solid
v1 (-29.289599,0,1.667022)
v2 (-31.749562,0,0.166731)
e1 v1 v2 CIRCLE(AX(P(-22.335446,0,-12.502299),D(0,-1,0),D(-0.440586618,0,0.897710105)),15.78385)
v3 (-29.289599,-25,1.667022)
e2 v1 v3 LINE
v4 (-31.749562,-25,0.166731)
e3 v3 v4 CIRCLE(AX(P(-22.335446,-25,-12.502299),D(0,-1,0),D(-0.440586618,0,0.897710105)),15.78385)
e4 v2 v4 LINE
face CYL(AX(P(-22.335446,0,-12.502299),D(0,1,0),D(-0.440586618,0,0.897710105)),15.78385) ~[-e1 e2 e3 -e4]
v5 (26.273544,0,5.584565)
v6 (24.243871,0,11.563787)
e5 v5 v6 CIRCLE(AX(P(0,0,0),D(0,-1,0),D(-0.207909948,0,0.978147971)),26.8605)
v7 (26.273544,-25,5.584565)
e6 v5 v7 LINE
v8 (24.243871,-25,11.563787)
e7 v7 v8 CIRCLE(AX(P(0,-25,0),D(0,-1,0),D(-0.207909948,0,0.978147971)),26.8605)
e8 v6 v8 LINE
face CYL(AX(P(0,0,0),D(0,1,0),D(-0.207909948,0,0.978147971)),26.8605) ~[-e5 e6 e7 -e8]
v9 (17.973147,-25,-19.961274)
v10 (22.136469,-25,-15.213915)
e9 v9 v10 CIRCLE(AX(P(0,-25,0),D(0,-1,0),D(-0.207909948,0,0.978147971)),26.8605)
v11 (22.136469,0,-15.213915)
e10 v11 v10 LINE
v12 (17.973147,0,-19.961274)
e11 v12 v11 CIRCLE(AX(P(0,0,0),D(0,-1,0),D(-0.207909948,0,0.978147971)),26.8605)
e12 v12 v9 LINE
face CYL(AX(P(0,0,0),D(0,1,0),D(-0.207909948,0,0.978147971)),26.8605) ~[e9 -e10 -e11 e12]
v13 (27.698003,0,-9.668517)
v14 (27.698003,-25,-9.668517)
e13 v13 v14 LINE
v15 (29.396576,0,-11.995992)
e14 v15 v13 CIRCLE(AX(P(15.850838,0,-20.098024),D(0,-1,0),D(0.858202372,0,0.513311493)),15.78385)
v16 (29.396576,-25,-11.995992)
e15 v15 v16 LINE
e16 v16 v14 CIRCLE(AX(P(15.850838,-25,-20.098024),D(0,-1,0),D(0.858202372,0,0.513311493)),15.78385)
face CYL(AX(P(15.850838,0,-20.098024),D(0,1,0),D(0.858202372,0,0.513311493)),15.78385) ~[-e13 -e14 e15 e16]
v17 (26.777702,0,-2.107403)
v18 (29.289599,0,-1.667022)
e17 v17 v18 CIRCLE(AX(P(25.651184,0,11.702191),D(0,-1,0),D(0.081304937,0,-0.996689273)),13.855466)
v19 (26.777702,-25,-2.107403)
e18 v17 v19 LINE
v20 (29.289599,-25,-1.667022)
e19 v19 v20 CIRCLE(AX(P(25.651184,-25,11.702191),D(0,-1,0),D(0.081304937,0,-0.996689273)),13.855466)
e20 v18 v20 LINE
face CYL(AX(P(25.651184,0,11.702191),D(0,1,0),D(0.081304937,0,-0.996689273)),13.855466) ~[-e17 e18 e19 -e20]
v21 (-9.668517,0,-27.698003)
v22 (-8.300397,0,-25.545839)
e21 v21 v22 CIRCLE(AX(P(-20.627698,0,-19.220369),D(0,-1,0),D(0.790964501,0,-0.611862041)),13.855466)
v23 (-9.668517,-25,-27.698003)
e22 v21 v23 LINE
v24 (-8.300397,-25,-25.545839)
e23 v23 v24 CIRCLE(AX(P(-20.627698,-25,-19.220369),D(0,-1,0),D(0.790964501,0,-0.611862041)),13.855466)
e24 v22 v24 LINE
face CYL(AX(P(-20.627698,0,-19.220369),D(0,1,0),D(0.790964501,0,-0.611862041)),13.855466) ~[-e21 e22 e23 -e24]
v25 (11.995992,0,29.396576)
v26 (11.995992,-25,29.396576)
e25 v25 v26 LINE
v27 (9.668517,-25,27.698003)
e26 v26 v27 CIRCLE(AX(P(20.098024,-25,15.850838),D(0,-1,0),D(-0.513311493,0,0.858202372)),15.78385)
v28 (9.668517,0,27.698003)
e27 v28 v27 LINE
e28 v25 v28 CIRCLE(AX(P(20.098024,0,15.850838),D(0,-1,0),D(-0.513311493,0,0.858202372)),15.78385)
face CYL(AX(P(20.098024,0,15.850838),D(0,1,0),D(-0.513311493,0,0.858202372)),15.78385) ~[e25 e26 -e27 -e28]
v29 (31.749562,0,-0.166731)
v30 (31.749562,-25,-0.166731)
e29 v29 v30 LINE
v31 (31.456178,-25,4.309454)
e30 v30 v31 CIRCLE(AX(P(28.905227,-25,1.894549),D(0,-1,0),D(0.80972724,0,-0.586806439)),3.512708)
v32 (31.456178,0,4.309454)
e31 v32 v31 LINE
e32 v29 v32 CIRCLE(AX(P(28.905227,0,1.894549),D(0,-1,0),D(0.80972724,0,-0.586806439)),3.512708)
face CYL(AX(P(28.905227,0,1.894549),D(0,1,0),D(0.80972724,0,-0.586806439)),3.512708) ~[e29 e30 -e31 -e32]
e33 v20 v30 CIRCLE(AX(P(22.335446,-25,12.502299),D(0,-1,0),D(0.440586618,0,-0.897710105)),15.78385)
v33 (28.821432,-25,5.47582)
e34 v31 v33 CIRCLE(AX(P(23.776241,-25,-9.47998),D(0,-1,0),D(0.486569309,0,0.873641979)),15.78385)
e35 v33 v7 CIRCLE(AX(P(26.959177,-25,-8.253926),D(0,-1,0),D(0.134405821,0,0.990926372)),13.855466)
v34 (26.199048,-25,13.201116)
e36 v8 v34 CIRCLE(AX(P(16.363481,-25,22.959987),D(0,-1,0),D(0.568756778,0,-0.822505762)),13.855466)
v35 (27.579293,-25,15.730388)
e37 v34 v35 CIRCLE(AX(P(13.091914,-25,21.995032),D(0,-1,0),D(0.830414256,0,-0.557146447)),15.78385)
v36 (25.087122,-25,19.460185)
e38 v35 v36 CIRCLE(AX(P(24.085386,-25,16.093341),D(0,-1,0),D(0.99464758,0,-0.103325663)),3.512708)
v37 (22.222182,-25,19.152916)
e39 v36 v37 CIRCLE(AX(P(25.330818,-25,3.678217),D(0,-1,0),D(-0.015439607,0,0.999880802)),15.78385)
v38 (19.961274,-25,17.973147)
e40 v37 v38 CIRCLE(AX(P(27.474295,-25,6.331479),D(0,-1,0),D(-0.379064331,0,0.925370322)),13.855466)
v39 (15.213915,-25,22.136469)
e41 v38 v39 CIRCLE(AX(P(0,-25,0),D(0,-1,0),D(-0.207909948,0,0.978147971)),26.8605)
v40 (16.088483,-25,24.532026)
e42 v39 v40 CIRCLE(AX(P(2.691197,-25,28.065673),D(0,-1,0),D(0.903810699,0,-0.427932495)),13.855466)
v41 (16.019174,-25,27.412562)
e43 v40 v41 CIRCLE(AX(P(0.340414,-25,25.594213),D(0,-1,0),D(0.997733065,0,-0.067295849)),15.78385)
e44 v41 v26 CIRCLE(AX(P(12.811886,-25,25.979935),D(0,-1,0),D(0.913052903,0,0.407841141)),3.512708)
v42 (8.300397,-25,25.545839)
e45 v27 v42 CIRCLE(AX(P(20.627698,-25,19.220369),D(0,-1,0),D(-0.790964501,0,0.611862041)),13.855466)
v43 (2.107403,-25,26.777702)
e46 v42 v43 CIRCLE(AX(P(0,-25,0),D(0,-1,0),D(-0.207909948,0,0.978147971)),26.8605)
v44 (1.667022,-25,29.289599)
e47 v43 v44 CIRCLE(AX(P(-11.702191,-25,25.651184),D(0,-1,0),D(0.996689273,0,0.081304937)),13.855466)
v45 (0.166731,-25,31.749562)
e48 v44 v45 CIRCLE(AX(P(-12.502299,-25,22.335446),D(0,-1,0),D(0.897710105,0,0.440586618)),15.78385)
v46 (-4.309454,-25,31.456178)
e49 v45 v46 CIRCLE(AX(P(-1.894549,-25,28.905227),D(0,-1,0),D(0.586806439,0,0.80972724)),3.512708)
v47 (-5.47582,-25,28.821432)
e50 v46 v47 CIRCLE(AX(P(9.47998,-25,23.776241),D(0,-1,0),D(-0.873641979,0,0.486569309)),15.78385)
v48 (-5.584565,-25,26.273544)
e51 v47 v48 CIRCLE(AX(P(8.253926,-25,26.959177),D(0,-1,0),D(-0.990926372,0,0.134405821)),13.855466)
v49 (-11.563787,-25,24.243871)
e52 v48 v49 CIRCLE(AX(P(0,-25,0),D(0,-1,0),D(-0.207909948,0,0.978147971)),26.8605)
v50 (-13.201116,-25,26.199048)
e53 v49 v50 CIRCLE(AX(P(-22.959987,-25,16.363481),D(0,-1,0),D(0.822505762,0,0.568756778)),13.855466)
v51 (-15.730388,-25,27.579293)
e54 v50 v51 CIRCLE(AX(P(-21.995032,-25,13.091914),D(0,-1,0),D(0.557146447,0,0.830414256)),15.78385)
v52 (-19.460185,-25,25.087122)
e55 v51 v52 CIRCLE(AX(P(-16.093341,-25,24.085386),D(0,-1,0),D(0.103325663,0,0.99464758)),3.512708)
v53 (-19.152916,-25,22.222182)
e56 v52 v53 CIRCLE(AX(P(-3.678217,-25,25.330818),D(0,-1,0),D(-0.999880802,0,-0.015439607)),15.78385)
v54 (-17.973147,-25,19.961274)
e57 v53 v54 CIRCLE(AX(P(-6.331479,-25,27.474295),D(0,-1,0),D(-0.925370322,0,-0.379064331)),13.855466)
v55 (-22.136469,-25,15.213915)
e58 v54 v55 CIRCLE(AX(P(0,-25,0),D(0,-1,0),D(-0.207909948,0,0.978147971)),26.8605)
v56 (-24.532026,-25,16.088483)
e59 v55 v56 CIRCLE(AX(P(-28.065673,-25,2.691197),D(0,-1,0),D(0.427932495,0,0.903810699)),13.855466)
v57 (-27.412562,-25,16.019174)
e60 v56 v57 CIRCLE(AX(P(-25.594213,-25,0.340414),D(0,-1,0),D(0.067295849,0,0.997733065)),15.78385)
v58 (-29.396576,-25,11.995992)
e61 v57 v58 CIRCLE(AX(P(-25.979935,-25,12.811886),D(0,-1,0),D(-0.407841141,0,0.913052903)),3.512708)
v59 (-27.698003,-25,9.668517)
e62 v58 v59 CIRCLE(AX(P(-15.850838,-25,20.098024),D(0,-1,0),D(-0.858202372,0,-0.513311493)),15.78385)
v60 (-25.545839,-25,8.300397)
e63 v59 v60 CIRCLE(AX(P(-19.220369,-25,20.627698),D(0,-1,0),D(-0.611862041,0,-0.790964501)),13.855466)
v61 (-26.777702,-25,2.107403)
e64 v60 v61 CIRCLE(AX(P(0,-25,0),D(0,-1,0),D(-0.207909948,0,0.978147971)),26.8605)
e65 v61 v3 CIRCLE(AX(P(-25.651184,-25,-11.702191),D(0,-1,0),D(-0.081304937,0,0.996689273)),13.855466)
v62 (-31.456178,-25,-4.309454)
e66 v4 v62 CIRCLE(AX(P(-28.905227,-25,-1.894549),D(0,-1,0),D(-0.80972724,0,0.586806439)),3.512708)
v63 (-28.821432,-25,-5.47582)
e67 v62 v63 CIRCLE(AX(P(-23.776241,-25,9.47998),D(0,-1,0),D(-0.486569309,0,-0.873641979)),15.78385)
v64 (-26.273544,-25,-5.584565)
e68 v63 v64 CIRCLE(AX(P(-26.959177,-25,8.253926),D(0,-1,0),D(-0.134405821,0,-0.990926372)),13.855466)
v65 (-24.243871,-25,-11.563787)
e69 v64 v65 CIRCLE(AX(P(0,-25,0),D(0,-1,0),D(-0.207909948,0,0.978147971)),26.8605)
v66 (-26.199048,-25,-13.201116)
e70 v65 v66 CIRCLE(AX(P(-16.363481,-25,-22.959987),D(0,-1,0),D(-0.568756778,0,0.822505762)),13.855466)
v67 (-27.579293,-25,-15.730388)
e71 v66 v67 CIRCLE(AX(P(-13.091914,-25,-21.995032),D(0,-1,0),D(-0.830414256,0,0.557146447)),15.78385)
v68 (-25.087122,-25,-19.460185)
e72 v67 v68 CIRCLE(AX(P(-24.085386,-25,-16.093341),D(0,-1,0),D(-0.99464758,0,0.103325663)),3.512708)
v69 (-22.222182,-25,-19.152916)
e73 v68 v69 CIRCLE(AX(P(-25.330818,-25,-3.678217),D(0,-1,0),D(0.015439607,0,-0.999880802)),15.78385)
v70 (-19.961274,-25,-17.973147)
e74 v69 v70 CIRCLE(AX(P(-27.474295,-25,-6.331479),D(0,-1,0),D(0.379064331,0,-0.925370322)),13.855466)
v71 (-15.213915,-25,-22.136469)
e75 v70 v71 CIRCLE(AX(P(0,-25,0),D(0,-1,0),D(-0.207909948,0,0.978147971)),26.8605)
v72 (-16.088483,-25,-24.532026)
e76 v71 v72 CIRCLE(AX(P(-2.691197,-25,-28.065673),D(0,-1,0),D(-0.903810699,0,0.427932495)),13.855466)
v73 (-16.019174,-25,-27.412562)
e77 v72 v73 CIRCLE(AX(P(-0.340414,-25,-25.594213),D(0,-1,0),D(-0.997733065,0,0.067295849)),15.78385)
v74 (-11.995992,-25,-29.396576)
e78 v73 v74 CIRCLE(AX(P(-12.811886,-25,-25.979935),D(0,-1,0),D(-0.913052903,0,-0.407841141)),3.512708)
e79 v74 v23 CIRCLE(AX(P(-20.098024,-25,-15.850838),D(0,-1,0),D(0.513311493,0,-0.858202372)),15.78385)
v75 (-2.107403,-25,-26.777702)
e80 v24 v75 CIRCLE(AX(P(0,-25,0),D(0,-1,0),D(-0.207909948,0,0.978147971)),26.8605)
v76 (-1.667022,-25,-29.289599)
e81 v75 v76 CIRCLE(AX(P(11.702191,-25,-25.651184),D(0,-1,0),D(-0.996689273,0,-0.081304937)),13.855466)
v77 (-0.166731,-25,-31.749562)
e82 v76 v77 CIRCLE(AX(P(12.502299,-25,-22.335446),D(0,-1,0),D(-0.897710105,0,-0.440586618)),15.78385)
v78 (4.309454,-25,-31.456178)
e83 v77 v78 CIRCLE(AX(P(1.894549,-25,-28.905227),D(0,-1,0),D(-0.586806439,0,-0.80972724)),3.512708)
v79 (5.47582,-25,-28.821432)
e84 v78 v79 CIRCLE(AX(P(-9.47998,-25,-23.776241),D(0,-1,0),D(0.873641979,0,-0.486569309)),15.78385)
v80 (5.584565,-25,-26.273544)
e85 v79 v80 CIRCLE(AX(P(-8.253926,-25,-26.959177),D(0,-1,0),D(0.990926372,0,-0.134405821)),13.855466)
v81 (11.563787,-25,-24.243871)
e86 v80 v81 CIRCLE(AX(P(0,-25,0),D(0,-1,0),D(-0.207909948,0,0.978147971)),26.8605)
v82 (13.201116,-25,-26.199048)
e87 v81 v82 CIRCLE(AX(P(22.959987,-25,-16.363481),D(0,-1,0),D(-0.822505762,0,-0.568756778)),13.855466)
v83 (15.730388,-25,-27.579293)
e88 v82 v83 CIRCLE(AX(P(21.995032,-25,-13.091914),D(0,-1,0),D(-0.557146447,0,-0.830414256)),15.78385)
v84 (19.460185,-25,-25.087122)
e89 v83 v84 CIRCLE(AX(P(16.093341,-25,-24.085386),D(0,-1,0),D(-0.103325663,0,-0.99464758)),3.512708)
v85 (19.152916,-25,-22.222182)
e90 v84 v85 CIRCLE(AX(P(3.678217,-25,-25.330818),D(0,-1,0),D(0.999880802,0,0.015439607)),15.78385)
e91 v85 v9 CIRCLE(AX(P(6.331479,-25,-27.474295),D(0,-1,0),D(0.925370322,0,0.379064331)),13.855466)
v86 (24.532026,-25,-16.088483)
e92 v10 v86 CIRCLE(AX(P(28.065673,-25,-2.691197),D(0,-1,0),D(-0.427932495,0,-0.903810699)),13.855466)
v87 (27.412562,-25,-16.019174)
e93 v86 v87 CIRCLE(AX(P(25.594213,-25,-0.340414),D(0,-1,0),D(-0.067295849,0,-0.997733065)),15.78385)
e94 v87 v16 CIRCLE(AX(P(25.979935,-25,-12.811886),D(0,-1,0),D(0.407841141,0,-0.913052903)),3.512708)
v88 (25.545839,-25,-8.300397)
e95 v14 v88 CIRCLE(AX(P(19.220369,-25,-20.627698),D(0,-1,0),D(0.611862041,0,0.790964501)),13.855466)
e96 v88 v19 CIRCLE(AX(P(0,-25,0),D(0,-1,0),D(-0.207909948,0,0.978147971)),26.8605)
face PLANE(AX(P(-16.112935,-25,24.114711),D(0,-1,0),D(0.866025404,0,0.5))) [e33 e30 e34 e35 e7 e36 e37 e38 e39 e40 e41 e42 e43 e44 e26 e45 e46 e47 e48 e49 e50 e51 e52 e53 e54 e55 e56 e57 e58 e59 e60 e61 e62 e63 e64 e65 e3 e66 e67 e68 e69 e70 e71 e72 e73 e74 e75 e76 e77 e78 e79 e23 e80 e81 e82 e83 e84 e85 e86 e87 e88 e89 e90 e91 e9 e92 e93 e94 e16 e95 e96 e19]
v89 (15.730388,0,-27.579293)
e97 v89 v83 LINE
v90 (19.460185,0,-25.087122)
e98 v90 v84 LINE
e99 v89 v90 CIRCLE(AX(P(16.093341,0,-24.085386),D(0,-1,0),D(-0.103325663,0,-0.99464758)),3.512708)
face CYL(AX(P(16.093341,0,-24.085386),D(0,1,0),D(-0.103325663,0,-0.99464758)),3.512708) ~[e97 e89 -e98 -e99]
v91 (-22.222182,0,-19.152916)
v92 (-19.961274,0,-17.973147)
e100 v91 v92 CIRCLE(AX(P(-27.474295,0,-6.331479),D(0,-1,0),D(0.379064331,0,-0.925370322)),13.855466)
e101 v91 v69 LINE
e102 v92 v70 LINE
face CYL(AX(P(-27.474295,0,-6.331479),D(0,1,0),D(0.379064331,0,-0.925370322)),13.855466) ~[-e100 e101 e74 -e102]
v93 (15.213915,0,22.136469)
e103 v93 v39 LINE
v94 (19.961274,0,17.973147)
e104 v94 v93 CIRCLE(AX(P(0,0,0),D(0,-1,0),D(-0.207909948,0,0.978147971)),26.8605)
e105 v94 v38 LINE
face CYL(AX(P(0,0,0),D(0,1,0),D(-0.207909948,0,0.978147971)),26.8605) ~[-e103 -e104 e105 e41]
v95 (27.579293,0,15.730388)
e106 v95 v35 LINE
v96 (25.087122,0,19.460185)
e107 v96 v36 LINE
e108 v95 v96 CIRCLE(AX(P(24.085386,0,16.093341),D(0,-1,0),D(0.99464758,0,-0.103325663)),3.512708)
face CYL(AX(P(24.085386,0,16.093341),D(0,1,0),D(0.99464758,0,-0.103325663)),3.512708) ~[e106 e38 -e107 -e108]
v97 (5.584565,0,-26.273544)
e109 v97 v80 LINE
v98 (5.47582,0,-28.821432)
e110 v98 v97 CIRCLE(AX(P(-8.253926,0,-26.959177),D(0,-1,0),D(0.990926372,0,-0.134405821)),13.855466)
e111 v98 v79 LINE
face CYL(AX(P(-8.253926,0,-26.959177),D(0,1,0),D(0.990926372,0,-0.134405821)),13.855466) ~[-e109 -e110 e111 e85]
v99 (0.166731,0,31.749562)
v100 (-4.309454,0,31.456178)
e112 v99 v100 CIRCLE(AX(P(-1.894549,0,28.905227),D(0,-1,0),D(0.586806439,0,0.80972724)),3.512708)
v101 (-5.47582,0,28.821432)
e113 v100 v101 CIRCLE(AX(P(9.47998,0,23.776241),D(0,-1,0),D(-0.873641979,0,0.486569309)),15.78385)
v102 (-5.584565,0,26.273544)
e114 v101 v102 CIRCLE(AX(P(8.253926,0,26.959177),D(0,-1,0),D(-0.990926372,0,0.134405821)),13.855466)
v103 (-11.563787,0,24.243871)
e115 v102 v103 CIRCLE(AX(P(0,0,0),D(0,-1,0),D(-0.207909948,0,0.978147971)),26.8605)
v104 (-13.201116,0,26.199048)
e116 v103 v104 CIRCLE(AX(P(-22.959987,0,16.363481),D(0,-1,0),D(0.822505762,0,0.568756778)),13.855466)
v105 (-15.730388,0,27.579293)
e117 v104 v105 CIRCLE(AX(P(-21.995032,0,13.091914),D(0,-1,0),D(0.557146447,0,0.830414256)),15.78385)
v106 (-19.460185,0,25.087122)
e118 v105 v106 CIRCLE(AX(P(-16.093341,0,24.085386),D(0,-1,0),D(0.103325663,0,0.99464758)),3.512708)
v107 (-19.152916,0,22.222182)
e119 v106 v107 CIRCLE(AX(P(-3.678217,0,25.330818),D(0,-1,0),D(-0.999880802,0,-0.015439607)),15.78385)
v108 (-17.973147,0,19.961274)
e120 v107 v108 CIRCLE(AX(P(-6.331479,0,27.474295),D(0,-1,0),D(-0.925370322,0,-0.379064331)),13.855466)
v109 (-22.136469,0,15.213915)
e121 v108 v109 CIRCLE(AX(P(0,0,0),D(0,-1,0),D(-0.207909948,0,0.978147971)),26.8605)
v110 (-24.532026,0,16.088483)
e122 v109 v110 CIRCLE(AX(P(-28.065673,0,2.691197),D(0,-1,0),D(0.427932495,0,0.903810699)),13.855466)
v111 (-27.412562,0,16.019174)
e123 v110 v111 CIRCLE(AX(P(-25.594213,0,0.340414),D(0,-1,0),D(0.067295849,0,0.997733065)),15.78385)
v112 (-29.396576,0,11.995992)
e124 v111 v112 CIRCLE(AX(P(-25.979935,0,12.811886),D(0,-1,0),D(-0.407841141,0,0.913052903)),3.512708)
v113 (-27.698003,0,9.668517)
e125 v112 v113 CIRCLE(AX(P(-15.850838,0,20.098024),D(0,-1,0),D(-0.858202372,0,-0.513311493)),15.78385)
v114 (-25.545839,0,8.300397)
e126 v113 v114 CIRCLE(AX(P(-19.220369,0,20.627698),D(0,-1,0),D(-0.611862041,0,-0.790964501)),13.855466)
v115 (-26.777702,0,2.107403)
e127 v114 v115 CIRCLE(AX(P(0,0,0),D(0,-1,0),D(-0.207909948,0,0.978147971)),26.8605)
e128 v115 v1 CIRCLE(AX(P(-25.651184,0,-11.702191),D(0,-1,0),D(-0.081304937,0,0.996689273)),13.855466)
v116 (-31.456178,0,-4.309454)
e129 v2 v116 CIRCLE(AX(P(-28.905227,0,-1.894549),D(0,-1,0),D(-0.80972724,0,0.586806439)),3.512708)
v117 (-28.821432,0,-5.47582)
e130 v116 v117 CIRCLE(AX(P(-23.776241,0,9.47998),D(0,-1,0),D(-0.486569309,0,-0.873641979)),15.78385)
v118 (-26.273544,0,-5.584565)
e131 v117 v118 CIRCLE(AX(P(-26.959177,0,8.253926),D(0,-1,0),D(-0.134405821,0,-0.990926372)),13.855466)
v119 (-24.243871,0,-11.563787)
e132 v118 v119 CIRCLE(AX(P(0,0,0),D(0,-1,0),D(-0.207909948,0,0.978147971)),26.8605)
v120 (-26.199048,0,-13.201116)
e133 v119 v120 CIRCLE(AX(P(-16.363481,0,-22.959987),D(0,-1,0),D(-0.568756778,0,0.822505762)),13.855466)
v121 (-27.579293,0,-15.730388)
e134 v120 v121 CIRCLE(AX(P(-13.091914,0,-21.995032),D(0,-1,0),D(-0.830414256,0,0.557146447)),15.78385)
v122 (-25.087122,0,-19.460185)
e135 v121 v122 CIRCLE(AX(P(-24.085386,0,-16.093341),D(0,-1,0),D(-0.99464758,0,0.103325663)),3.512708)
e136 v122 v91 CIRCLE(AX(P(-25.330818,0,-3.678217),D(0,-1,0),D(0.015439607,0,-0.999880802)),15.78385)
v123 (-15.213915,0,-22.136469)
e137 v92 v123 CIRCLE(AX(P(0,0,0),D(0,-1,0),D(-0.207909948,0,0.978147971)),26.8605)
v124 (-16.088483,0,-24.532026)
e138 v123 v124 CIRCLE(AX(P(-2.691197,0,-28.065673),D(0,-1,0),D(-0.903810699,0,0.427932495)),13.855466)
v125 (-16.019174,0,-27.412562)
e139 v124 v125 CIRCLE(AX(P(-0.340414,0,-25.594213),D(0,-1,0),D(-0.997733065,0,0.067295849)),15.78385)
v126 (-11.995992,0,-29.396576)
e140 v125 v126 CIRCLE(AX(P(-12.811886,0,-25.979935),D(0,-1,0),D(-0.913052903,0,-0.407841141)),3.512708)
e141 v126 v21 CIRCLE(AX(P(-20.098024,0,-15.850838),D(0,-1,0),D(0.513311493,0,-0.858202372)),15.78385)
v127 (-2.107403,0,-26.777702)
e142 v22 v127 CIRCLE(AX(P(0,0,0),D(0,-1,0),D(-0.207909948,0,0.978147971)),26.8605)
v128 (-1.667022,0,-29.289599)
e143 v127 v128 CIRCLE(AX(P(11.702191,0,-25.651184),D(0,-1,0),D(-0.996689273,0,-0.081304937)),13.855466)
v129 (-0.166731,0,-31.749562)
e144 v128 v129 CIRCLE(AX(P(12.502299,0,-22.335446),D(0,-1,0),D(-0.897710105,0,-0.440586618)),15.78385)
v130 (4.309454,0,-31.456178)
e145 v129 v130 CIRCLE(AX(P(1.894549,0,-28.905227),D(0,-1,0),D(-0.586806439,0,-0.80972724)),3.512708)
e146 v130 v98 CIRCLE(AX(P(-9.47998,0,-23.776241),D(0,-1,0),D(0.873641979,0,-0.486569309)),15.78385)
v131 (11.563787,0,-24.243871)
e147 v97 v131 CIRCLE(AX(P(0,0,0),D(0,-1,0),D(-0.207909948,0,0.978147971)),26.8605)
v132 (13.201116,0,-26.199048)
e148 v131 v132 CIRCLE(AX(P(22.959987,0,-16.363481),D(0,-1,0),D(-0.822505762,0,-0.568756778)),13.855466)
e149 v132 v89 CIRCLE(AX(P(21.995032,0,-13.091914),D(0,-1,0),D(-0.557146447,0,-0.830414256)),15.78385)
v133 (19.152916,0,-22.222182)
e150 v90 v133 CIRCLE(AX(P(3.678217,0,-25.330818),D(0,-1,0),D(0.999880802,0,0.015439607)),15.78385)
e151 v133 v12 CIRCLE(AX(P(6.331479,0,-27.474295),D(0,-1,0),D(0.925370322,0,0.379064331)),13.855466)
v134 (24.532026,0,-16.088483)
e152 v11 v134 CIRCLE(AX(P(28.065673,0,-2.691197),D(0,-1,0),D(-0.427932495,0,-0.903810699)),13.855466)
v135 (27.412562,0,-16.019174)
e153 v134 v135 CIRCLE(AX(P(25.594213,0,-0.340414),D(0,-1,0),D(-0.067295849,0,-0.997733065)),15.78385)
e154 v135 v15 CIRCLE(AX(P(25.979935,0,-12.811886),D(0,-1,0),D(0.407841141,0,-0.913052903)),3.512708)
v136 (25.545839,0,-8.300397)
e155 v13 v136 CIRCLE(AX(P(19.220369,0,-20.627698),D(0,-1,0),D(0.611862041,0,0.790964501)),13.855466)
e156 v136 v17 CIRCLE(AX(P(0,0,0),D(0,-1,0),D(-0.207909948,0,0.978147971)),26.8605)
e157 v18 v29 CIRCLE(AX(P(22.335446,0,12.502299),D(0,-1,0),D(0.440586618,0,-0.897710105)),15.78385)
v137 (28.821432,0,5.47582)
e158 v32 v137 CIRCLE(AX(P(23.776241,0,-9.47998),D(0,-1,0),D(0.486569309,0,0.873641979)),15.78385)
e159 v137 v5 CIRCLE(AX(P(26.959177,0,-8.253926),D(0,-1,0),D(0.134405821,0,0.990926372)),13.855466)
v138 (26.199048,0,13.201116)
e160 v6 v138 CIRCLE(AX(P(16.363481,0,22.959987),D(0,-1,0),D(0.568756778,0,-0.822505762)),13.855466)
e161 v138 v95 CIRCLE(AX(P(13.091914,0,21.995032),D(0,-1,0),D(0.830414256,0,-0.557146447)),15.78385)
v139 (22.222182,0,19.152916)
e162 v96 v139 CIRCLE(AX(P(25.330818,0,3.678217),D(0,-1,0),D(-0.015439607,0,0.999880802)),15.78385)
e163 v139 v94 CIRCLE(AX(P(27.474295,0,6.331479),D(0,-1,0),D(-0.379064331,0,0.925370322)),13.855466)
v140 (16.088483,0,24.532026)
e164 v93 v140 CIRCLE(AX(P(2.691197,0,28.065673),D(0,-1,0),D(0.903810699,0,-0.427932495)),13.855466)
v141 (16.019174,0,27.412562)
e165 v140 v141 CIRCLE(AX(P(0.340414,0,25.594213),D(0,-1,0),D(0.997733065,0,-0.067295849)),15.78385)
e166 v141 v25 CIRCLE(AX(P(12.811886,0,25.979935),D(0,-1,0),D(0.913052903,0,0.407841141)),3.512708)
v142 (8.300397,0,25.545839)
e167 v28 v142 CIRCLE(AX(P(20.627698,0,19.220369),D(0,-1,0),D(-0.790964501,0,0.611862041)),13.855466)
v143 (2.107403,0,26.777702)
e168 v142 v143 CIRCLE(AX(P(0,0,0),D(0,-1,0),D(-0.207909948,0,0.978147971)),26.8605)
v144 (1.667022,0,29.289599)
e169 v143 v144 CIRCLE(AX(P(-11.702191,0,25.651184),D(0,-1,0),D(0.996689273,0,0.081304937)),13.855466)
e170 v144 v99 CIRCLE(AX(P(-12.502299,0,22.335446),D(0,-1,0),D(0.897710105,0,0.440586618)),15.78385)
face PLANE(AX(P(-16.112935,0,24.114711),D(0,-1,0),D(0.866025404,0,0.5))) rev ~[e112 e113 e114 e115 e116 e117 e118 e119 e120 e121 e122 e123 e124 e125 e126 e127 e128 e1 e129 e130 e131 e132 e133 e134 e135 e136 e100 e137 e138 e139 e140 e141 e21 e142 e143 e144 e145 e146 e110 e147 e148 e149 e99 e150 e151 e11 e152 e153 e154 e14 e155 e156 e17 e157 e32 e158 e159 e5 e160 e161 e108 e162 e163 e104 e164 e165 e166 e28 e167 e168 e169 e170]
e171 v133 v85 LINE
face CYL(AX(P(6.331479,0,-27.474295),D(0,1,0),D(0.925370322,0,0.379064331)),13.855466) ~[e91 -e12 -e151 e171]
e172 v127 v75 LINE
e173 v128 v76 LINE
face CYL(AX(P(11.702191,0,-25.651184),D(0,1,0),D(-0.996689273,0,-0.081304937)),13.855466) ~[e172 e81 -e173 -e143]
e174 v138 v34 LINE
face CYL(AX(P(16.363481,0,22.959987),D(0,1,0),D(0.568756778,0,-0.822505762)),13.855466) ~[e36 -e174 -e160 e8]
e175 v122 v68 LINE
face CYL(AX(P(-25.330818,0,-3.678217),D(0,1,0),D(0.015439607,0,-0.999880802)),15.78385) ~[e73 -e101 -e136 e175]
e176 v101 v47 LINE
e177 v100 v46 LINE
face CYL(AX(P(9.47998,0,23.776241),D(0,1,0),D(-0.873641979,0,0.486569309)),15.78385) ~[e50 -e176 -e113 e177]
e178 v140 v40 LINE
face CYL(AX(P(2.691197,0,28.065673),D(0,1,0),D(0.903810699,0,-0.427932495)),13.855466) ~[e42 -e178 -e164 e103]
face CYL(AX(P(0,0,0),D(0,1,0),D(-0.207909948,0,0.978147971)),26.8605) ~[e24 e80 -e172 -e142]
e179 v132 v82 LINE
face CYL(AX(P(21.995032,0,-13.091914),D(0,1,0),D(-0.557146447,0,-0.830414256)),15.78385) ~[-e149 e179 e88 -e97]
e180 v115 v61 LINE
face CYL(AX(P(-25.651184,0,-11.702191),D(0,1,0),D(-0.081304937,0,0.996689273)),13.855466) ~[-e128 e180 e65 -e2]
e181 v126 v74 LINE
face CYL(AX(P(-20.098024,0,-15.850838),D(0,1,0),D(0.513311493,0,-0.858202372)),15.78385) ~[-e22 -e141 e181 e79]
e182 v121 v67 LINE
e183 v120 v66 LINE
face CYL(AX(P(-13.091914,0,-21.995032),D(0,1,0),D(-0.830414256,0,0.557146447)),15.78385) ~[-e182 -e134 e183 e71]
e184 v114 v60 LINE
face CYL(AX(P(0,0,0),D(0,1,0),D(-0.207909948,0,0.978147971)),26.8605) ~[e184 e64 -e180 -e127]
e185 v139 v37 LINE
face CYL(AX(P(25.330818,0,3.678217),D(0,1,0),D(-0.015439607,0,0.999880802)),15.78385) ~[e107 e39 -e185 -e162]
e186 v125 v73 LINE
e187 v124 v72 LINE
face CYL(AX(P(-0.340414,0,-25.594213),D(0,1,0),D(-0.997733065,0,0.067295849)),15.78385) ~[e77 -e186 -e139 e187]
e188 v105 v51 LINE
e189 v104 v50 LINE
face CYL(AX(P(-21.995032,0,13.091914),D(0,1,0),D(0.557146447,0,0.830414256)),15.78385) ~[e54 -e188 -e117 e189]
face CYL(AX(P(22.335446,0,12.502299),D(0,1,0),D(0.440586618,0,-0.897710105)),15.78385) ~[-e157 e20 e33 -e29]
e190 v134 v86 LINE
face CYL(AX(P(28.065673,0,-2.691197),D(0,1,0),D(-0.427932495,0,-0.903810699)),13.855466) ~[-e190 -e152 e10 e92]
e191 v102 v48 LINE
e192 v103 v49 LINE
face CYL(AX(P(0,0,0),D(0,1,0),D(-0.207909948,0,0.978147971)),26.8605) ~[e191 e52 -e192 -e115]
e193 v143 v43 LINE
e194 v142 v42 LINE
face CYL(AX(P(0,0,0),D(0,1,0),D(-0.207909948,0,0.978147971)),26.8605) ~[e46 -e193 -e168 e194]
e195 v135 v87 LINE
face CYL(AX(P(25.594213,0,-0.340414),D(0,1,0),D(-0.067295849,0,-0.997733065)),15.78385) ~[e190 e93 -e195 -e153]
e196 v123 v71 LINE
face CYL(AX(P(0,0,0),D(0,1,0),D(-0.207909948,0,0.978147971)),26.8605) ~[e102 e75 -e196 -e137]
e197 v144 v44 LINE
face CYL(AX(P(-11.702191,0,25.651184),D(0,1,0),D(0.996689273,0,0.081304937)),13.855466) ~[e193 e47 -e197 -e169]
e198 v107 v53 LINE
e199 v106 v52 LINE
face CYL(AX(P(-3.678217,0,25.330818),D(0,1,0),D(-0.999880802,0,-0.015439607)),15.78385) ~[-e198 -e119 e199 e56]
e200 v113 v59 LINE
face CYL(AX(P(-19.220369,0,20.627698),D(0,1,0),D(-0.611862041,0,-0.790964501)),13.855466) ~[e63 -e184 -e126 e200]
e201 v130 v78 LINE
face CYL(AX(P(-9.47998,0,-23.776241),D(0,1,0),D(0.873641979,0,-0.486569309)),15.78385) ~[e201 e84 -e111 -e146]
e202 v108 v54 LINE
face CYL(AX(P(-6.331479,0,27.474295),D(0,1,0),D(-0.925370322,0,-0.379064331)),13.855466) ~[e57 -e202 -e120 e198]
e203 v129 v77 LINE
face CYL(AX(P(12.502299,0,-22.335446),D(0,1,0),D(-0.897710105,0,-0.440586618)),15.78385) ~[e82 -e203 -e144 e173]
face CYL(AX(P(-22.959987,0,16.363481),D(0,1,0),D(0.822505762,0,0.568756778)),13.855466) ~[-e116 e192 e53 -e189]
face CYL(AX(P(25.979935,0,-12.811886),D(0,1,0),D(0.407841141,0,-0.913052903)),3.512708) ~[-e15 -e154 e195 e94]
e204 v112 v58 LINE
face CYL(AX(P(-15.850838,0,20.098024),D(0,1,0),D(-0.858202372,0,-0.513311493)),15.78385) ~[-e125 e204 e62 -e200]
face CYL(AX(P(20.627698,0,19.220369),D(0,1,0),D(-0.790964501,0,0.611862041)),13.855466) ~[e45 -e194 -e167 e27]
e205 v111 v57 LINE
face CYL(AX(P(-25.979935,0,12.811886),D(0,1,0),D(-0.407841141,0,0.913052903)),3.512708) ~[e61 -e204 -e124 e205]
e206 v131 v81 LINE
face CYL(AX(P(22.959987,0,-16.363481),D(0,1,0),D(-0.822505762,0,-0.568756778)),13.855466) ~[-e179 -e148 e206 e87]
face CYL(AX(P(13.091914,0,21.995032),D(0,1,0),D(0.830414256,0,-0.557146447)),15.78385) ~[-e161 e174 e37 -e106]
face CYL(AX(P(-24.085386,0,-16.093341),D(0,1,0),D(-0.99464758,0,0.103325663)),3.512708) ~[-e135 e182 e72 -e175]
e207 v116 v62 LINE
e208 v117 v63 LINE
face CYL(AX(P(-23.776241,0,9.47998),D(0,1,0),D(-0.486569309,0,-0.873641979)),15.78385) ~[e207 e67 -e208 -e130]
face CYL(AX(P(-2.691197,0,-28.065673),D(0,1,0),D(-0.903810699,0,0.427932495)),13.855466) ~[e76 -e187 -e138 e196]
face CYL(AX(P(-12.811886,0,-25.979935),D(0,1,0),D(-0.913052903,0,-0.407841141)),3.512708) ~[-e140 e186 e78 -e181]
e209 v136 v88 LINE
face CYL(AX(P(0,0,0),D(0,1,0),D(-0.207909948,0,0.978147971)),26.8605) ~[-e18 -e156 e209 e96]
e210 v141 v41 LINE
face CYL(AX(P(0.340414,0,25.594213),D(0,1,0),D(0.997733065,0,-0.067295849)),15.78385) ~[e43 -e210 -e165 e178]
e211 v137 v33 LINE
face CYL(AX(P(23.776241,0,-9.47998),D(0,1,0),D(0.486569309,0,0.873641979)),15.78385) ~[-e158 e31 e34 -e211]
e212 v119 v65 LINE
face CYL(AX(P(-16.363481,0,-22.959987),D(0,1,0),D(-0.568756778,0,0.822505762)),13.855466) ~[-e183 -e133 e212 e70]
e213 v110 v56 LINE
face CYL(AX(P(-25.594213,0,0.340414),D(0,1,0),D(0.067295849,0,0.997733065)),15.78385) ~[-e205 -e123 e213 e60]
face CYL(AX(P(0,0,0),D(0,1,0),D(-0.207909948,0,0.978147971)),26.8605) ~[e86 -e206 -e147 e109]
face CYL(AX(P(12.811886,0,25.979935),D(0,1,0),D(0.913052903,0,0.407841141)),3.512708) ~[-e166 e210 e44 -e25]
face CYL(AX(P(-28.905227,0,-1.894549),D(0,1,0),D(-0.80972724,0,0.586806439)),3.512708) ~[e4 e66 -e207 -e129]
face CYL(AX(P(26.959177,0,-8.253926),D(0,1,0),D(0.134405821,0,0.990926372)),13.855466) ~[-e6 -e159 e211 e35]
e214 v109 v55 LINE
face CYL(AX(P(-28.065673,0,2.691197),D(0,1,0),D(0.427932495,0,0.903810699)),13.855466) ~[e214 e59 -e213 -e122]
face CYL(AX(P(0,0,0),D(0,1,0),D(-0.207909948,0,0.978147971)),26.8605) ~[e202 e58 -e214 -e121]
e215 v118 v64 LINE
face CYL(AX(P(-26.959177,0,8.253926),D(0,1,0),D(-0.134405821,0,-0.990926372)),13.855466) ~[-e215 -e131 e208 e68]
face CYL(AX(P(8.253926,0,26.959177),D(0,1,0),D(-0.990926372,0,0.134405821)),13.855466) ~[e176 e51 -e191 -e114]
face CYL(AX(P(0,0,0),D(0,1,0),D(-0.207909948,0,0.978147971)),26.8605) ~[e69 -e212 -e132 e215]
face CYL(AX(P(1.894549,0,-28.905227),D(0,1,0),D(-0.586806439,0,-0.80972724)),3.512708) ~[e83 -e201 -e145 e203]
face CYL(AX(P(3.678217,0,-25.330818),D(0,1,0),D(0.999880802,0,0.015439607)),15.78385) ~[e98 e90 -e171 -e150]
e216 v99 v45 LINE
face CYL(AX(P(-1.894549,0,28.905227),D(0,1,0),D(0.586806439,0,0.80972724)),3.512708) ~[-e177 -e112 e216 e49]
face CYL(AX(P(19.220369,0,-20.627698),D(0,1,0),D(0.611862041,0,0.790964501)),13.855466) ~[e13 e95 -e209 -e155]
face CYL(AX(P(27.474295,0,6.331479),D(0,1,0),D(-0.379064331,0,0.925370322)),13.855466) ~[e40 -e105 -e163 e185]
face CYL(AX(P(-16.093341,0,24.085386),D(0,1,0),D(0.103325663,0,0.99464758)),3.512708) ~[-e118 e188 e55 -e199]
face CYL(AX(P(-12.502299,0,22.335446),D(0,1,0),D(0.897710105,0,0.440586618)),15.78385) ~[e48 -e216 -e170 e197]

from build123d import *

# Parameters (mm, degrees)
F1_DEPTH = 25
F2_DEPTH = 25
F3_COUNT = 12


with BuildPart() as f1:
    # F0 (on Front) → F1 (new body)
    with BuildSketch(Plane.XZ):
        with BuildLine():
            ThreePointArc((-5.5845651505, 26.2735435815), (-16.9038789635, -20.874514036), (26.8605, 0))
            ThreePointArc((26.8605, 0), (19.7242535187, 18.2329450002), (2.1074028217, 26.7777017983))
            ThreePointArc((2.1074028217, 26.7777017983), (-1.7567607527, 26.8029896077), (-5.5845651505, 26.2735435815))
        make_face()
        with BuildLine():
            ThreePointArc((4.0227100868, 11.3209239617), (9.8151901419, 6.9287486797), (12.0143878658, 0))
            ThreePointArc((12.0143878658, 0), (9.8151901419, -6.9287486797), (4.0227100868, -11.3209239617))
            ThreePointArc((4.0227100868, -11.3209239617), (0, -12.0143878658), (-4.0227100868, -11.3209239617))
            ThreePointArc((-4.0227100868, -11.3209239617), (-12.0143878658, 0), (-4.0227100868, 11.3209239617))
            ThreePointArc((-4.0227100868, 11.3209239617), (0, 12.0143878658), (4.0227100868, 11.3209239617))
        make_face(mode=Mode.SUBTRACT)
        with BuildLine():
            Line((4.0227100868, -11.3209239617), (4.0227100868, 11.3209239617))
            ThreePointArc((4.0227100868, 11.3209239617), (0, 12.0143878658), (-4.0227100868, 11.3209239617))
            Line((-4.0227100868, 11.3209239617), (-4.0227100868, -11.3209239617))
            ThreePointArc((-4.0227100868, -11.3209239617), (0, -12.0143878658), (4.0227100868, -11.3209239617))
        make_face()
    extrude(amount=F1_DEPTH)

    # F0 (on Front) → F2 (join)
    with BuildSketch(Plane.XZ):
        with BuildLine():
            ThreePointArc((-5.5845651505, 26.2735435815), (-1.7567607527, 26.8029896077), (2.1074028217, 26.7777017983))
            ThreePointArc((2.1074028217, 26.7777017983), (1.945127207, 28.0438038567), (1.6670221767, 29.2895989399))
            ThreePointArc((1.6670221767, 29.2895989399), (0.973127852, 30.5538872836), (0.1667310445, 31.7495622137))
            ThreePointArc((0.1667310445, 31.7495622137), (-2.1242907577, 32.4104138918), (-4.3094540977, 31.4561775392))
            ThreePointArc((-4.3094540977, 31.4561775392), (-4.952885173, 30.1654758692), (-5.4758203921, 28.8214323036))
            ThreePointArc((-5.4758203921, 28.8214323036), (-5.5889373069, 27.5499951794), (-5.5845651505, 26.2735435815))
        make_face()
    extrude(amount=F2_DEPTH)

    # F3: F1 ×12 about axis
    f3_axis = Axis((0, 0, 0), (0, 1, 0))


with BuildPart() as f1_1:
    add(f1.part)
    for i in range(1, F3_COUNT):
        add(f1.part.rotate(f3_axis, i * 360 / F3_COUNT))


solid = f1_1.part
